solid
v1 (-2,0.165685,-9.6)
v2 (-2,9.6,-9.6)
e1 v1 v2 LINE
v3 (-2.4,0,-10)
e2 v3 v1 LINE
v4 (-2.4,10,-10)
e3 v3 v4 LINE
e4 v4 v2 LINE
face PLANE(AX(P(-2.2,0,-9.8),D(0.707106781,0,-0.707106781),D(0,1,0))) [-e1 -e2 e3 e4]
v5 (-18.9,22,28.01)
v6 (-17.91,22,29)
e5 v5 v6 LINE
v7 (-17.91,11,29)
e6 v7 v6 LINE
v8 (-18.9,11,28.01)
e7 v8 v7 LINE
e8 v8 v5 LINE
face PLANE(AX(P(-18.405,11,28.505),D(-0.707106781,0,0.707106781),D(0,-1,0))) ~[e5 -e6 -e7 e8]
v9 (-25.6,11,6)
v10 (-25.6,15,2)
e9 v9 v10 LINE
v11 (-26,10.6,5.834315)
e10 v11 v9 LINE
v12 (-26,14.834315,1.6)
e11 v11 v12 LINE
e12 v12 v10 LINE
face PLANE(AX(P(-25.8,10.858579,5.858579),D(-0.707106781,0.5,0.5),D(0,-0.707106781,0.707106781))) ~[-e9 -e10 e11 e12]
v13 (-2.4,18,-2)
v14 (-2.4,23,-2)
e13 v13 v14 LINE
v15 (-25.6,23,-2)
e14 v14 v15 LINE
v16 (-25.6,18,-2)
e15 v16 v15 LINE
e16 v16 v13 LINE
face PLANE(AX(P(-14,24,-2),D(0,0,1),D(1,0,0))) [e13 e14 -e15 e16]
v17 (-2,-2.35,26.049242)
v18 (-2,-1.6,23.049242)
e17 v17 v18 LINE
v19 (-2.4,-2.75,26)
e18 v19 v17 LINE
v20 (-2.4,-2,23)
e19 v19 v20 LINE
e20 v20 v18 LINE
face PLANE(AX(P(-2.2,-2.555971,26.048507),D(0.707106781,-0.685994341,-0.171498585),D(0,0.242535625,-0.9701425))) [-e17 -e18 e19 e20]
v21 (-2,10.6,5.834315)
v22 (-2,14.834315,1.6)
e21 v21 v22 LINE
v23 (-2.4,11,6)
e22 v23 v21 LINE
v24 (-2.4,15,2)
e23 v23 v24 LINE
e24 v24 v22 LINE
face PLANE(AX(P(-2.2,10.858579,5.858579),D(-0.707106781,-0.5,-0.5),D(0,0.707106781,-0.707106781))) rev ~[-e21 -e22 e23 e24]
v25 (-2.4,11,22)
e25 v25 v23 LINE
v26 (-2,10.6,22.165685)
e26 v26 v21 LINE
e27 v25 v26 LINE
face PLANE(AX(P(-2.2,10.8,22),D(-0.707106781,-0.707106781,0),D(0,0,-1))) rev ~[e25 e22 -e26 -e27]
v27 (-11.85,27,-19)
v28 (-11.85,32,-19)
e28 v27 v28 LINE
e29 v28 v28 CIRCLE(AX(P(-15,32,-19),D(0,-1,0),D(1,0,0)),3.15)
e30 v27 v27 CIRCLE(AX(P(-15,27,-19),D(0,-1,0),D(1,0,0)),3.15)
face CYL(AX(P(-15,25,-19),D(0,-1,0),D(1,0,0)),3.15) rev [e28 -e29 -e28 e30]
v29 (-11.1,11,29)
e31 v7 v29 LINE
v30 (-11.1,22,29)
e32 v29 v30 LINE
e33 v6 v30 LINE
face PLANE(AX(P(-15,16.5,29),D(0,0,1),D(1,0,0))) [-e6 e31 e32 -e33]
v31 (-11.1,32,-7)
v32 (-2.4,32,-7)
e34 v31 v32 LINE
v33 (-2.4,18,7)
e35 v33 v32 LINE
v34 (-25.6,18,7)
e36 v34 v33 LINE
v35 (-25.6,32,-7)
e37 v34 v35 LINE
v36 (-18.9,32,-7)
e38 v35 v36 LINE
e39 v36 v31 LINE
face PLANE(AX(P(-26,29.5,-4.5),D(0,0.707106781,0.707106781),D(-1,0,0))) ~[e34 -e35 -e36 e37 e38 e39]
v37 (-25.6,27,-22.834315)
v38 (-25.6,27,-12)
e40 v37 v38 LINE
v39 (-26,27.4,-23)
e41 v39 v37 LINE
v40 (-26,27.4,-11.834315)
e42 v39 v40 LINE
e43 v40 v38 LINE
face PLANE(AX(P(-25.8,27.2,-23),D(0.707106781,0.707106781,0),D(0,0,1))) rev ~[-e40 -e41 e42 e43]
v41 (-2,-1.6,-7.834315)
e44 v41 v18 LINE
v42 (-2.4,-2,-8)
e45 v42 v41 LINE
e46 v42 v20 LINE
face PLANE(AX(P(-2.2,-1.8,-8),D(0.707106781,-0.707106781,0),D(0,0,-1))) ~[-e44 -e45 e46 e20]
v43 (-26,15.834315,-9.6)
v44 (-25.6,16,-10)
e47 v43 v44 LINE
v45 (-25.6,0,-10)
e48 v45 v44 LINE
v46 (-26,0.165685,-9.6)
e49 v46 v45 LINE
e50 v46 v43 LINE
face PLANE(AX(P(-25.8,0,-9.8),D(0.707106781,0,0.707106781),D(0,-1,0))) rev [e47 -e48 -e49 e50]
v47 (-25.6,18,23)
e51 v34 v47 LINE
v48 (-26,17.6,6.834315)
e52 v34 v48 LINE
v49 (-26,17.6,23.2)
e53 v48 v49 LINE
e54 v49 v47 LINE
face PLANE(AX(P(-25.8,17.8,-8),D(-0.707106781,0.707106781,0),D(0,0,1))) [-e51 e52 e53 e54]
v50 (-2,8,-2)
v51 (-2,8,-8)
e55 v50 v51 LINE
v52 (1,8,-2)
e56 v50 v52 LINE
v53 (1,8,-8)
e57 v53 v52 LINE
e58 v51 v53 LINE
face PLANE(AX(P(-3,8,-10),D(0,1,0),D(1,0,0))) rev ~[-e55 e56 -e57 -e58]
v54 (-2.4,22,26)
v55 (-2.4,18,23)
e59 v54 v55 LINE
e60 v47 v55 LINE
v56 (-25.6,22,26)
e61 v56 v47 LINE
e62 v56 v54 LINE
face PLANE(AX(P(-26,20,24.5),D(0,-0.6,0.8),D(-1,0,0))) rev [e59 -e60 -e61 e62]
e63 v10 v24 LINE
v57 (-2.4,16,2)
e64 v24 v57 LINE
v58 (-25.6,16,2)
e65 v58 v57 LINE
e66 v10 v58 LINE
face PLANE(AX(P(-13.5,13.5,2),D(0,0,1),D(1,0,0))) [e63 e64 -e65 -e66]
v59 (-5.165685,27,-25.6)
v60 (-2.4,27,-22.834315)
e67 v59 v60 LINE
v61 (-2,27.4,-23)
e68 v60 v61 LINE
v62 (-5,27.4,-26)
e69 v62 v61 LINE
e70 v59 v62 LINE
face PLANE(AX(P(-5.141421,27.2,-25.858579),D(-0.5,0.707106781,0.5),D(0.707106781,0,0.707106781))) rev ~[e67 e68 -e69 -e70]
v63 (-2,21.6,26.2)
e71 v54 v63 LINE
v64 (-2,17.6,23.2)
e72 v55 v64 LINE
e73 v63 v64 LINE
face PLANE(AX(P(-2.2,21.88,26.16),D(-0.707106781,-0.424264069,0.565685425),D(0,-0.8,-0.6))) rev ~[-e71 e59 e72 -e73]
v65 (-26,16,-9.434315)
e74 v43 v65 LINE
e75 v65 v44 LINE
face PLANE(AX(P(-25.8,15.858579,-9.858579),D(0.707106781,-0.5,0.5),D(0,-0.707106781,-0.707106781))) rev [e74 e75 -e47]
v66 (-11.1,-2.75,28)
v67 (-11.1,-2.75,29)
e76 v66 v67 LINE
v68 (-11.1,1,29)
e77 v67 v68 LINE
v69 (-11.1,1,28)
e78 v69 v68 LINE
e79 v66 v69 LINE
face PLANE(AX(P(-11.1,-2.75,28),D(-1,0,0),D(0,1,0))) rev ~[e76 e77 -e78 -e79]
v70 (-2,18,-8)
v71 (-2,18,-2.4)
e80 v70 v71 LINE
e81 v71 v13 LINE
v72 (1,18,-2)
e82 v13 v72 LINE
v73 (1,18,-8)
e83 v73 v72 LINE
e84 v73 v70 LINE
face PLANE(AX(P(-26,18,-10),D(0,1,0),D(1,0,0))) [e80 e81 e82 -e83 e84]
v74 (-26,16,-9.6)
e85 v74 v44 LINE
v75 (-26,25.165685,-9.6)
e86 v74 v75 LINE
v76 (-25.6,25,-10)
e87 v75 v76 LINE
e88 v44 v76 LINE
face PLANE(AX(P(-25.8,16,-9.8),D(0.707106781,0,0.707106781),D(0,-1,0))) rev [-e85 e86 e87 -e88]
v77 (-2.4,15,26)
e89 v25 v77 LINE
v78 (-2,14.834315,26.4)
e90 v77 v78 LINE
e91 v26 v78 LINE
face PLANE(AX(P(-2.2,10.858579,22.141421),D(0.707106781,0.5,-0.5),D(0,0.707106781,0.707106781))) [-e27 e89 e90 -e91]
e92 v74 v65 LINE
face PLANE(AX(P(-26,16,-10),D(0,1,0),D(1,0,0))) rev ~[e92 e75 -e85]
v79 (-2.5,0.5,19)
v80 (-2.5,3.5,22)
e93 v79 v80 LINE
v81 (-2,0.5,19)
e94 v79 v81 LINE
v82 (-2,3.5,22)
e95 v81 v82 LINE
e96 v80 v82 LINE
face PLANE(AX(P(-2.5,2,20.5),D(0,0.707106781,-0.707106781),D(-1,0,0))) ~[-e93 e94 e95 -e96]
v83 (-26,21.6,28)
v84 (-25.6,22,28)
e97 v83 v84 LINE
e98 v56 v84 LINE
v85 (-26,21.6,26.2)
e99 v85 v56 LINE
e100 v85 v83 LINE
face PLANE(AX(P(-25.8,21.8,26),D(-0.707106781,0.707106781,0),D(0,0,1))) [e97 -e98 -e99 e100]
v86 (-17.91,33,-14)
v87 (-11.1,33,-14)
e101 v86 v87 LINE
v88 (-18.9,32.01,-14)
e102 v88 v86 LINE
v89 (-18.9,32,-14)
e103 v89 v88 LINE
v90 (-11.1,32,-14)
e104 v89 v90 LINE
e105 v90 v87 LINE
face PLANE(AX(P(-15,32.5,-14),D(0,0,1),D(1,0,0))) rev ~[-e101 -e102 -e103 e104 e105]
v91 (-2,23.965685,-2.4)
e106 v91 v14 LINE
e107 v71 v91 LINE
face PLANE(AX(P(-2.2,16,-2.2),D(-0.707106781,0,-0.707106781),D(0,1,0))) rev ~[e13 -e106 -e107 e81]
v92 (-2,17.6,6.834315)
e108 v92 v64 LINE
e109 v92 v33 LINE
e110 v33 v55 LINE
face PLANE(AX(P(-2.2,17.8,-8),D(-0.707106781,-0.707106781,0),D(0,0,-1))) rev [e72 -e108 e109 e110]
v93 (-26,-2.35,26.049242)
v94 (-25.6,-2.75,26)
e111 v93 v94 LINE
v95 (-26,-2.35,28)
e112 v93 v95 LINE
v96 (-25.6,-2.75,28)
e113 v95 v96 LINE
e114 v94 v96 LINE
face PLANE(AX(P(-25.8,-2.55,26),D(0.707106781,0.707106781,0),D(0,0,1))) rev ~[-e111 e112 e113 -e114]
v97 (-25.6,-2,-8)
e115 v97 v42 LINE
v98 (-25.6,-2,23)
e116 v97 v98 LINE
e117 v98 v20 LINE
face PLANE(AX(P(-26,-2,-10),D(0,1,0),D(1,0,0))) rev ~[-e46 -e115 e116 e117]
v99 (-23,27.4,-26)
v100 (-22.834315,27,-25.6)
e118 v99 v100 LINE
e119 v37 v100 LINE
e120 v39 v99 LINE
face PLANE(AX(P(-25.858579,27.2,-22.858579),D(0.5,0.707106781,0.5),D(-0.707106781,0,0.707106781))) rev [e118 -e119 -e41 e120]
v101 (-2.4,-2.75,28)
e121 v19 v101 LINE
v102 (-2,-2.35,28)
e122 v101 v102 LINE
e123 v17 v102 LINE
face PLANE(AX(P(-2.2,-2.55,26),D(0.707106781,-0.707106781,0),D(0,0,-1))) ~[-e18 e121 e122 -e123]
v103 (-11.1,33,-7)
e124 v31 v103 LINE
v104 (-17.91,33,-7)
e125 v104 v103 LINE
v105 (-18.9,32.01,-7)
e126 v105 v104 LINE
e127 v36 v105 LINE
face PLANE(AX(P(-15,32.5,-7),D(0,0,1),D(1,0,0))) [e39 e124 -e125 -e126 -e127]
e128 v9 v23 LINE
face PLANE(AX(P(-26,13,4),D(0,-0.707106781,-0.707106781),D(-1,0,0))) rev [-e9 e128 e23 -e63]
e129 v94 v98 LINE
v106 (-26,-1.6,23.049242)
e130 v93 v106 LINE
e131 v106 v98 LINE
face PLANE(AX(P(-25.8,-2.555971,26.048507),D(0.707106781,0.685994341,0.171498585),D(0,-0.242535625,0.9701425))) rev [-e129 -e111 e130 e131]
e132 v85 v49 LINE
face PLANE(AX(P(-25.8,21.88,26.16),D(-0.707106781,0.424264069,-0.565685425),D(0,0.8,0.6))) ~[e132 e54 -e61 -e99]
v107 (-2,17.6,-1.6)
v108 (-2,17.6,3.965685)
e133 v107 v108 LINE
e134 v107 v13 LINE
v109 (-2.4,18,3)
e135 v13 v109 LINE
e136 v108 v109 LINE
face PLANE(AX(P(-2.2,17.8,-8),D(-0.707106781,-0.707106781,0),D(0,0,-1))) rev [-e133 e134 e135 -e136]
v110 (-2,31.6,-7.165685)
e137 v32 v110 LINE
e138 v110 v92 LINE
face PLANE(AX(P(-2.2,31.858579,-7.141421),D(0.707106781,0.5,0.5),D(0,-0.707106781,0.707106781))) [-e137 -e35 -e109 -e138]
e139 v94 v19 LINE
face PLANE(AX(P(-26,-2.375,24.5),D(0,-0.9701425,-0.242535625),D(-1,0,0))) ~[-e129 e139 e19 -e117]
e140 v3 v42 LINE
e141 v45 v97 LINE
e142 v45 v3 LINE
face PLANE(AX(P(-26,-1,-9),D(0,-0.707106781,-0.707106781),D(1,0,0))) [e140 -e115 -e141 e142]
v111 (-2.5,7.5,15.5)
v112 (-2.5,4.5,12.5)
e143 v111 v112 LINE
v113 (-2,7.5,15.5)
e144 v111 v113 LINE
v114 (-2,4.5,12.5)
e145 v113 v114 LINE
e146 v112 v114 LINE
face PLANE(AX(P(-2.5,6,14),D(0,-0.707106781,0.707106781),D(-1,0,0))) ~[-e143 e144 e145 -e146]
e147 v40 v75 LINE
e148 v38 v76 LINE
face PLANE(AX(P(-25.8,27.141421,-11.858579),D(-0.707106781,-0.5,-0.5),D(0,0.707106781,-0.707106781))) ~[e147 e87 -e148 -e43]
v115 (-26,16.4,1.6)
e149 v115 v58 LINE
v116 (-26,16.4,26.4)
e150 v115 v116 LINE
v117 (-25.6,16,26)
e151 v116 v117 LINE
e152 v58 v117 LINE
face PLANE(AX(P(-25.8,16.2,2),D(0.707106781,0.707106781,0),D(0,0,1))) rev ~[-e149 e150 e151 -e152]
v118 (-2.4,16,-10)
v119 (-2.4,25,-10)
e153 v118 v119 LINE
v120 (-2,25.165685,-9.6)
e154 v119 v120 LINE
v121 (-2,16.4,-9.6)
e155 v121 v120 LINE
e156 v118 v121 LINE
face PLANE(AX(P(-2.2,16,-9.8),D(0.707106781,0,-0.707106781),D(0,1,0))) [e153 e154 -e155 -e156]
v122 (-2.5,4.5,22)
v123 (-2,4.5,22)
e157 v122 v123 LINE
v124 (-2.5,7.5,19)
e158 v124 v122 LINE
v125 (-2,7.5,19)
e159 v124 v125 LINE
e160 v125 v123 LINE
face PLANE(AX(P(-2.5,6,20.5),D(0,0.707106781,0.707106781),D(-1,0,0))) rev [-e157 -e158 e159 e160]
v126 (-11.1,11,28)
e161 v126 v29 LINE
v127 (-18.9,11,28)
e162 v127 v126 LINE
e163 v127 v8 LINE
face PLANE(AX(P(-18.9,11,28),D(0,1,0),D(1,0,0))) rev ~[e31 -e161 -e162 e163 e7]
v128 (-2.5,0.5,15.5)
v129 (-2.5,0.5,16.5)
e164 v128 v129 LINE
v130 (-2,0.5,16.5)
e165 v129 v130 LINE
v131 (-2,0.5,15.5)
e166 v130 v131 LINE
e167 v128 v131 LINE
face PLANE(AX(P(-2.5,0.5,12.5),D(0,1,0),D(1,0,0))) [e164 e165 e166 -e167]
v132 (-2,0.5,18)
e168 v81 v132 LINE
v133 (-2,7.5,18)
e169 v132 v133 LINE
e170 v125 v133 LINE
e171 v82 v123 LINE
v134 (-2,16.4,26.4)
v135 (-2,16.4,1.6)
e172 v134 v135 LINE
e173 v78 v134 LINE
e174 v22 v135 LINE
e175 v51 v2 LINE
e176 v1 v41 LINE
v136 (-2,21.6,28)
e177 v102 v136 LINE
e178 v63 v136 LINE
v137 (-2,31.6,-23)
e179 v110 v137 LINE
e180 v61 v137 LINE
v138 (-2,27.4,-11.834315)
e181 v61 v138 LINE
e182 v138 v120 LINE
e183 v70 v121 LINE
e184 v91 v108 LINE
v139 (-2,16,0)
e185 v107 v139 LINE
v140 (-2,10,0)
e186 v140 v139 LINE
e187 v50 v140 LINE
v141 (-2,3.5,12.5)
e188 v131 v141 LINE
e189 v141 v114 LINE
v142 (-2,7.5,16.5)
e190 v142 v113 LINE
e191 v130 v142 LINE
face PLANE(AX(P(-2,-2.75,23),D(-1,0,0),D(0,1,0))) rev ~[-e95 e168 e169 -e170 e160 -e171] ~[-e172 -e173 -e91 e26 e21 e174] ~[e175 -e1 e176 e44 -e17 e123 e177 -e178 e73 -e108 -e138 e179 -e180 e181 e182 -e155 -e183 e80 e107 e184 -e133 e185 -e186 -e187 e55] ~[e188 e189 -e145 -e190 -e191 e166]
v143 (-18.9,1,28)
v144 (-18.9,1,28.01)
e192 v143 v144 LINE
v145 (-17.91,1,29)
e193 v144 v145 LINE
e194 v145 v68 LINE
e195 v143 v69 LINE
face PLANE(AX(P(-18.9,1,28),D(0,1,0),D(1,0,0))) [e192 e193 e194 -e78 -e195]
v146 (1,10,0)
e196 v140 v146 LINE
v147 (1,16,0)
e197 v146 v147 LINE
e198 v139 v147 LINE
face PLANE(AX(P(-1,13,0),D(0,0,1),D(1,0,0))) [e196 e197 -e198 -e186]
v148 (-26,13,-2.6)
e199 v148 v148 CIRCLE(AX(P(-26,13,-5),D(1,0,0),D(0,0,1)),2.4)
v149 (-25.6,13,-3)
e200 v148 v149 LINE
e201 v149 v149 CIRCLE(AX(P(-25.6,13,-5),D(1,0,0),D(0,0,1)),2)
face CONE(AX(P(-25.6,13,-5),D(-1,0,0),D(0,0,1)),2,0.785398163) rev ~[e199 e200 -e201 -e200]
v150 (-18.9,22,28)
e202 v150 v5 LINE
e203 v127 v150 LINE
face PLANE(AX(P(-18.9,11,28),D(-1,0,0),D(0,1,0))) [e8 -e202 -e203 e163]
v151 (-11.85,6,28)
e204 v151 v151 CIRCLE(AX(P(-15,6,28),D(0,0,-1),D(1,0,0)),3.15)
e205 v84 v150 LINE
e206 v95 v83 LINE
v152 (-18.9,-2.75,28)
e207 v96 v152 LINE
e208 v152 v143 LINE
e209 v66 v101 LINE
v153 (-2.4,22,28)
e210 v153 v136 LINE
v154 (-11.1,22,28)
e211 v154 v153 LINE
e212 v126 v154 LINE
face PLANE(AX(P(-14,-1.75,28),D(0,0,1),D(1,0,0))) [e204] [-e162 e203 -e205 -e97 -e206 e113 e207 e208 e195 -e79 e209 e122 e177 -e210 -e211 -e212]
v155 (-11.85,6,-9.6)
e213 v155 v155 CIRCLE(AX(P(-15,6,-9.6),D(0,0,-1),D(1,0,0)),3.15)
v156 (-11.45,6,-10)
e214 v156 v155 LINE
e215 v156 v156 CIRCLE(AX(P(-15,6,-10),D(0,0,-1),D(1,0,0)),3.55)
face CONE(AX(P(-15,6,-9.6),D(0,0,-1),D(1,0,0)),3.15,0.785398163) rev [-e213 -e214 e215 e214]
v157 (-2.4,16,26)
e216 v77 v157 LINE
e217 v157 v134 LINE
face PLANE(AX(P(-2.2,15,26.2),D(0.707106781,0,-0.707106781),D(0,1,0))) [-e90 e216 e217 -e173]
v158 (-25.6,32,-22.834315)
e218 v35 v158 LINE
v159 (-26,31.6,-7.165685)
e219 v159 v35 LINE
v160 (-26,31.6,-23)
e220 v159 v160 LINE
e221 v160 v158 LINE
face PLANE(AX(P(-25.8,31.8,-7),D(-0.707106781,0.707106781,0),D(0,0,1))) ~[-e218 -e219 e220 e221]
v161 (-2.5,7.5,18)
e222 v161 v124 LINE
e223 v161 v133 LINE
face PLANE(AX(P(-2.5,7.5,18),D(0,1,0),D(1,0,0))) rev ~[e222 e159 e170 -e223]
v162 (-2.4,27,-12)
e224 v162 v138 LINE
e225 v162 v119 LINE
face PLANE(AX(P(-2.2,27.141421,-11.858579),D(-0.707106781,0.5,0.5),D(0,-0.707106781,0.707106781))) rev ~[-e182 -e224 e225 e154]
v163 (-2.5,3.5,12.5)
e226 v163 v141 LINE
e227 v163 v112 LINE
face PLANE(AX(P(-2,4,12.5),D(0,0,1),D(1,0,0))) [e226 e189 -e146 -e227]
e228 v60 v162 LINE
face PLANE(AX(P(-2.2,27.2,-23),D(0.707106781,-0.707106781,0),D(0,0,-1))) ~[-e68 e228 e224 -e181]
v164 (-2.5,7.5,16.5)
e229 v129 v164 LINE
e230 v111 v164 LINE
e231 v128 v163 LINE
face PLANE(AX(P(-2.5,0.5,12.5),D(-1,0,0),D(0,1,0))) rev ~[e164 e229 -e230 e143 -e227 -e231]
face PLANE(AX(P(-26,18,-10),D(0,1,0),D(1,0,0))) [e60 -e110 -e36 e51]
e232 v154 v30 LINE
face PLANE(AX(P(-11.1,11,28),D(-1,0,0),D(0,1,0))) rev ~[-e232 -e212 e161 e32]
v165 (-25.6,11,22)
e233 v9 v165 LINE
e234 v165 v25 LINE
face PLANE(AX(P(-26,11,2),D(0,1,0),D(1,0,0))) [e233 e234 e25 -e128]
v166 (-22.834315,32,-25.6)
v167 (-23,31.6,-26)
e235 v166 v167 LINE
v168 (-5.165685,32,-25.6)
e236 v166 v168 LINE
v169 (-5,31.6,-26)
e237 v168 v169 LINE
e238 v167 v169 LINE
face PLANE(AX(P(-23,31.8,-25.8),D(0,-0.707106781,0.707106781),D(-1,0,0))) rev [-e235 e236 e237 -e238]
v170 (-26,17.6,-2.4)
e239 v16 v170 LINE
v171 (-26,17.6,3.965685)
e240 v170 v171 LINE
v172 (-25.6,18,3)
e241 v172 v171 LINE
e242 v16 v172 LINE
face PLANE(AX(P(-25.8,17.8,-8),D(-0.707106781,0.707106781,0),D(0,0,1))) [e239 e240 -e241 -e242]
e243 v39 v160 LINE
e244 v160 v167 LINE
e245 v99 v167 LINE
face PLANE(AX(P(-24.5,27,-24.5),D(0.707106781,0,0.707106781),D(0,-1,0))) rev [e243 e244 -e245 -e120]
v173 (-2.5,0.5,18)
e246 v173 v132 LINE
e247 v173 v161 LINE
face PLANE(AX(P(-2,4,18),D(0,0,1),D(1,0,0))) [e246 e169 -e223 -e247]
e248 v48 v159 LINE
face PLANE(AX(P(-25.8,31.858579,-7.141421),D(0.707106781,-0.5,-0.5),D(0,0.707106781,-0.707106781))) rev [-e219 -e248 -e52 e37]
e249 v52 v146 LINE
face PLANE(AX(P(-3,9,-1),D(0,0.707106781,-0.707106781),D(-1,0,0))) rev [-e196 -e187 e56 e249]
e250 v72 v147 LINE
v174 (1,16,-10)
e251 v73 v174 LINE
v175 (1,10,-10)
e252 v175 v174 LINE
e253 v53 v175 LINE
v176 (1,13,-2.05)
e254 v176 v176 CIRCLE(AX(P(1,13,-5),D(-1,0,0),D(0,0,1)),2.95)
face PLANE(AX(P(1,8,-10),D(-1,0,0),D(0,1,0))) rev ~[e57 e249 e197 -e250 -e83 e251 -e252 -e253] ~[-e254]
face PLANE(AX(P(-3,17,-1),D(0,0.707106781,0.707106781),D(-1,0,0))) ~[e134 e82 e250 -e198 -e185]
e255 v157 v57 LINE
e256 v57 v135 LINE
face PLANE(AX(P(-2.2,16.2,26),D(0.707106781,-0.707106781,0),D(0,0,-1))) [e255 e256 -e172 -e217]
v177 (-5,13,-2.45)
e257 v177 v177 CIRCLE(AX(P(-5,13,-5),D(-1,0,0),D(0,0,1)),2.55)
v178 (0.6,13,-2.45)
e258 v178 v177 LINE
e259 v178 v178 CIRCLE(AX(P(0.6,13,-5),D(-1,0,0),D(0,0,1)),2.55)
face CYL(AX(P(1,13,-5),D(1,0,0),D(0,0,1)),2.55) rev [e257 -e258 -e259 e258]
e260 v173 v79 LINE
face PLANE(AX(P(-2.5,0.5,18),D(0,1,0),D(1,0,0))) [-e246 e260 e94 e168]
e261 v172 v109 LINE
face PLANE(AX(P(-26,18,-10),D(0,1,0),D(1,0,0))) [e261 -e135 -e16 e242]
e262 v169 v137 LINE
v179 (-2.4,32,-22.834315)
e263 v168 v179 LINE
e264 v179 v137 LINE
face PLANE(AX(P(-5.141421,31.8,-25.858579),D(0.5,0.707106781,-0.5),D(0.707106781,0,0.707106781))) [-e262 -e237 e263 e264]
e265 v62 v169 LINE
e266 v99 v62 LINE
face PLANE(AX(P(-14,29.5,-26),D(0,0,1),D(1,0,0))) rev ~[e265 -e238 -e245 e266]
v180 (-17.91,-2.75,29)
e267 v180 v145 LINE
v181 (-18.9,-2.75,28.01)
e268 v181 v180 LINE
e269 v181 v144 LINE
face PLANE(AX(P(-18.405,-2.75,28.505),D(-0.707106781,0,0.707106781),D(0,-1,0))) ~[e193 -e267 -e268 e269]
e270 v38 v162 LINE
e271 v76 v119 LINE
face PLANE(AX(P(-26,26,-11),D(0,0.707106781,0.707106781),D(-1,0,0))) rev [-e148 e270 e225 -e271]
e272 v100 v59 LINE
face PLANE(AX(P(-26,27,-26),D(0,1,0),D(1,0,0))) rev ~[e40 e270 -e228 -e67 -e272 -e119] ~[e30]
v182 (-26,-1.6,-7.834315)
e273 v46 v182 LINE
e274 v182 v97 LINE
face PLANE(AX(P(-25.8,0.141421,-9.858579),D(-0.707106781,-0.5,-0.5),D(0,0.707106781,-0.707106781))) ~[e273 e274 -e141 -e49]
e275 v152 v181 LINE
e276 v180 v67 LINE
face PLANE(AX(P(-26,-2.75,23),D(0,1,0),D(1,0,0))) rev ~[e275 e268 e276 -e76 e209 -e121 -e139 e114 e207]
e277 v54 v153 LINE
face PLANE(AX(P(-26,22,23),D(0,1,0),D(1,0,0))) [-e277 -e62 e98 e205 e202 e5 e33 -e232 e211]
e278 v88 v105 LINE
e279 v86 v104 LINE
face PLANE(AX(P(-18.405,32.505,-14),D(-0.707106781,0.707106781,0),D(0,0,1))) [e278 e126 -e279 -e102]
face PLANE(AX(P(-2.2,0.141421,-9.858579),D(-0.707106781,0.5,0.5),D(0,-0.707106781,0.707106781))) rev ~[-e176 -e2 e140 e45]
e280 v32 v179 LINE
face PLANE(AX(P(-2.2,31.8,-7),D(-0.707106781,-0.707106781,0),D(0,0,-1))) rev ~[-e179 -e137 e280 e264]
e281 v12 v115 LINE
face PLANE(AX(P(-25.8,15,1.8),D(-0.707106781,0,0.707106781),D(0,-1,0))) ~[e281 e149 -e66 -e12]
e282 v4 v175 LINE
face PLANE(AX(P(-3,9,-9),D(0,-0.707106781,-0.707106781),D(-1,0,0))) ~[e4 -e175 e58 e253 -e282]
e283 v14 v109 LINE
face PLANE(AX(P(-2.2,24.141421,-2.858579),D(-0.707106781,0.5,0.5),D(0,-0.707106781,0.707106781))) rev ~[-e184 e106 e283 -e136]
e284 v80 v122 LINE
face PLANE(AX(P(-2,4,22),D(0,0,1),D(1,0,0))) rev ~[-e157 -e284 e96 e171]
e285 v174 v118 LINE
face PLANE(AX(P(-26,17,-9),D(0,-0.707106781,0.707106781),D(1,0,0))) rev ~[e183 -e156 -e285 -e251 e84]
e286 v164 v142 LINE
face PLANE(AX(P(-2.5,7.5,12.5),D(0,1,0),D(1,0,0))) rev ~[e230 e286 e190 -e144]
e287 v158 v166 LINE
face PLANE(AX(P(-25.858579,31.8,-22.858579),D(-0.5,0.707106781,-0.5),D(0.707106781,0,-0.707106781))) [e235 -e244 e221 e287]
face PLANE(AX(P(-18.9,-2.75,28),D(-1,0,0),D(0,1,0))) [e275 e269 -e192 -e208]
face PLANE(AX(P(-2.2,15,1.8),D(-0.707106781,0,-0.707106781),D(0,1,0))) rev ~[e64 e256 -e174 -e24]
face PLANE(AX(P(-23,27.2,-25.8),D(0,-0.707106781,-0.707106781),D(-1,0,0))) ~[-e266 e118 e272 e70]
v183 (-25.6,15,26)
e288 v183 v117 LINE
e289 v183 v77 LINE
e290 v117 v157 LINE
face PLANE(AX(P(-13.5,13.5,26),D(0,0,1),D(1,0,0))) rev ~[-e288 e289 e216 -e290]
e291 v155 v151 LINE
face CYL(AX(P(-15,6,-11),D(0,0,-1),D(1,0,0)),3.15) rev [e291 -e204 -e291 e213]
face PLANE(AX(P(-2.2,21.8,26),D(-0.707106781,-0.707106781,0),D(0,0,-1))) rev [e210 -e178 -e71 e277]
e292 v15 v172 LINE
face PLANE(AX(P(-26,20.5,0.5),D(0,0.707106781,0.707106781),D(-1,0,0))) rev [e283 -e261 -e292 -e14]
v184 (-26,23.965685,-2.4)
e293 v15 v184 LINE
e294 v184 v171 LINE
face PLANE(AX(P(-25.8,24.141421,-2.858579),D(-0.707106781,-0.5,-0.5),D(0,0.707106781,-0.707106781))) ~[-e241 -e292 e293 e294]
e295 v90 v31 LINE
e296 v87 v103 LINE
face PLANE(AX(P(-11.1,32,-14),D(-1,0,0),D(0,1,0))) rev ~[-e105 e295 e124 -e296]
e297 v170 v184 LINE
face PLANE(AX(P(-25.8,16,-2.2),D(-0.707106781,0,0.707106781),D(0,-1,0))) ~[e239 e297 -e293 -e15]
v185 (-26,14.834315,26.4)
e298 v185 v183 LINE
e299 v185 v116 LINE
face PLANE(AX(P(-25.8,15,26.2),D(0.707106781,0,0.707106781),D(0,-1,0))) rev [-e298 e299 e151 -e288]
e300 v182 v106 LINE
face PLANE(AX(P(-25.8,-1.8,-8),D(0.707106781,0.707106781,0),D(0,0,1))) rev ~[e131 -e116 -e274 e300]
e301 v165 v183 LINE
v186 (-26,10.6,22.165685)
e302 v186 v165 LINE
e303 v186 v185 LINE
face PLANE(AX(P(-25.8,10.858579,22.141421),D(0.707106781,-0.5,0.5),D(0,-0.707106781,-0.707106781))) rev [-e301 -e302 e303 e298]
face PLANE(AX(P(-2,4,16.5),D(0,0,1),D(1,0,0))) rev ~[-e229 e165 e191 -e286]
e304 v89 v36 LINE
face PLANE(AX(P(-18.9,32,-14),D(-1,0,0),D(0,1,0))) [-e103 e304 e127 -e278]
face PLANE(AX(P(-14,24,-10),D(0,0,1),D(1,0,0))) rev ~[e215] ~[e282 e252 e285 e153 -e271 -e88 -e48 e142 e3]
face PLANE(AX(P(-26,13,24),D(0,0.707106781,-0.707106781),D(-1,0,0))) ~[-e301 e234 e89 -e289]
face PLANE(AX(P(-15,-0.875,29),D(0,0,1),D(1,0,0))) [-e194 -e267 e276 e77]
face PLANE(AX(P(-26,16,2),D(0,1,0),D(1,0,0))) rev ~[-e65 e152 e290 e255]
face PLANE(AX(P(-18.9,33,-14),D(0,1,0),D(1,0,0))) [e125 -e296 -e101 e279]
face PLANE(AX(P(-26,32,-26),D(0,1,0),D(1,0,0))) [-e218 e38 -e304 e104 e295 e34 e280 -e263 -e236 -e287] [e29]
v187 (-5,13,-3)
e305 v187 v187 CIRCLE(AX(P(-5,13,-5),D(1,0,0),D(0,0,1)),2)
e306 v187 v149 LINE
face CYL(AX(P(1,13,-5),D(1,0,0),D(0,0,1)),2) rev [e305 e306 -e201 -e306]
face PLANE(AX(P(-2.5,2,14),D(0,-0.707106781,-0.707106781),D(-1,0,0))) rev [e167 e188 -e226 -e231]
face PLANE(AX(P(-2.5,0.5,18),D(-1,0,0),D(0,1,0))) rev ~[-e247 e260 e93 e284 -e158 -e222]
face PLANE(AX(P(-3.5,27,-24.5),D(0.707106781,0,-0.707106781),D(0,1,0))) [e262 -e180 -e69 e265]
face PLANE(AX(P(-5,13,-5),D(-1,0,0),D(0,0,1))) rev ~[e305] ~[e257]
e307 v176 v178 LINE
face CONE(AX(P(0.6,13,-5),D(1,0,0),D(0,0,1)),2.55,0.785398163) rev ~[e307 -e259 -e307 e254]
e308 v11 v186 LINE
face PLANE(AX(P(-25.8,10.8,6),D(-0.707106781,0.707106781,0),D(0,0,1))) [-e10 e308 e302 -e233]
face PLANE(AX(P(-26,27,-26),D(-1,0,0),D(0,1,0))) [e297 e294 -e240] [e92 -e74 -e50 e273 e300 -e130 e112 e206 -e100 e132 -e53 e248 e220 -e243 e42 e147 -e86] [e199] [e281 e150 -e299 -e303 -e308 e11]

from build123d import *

# Parameters (mm, degrees)
CYLINDER018_R                = 3.15
CYLINDER018_DEPTH            = 10
BOX035_W                     = 24
BOX035_H                     = 5
BOX035_DEPTH                 = 16
BOX034_W                     = 24
BOX034_H                     = 16
BOX034_DEPTH                 = 8
CHAMFER003068012002033_SIZE  = 2
CHAMFER003068012002034_SIZE  = 5
CHAMFER003068012002035_SIZE  = 3
CHAMFER003068012002036_SIZE  = 0.4
CYLINDER016_R                = 3.15
CYLINDER016_DEPTH            = 43
CYLINDER015_R                = 2
CYLINDER015_DEPTH            = 39
CYLINDER017_R                = 2.55
CYLINDER017_DEPTH            = 6
BOX030_W                     = 1
BOX030_H                     = 7
BOX030_DEPTH                 = 4
BOX031_W                     = 1
BOX031_H                     = 7
BOX031_DEPTH                 = 4
CHAMFER003068012002027_SIZE  = 3
BOX025_W                     = 4
BOX025_H                     = 10
BOX025_DEPTH                 = 10
CHAMFER003068012002021_SIZE  = 2
BOX026_W                     = 25
BOX026_H                     = 5
BOX026_DEPTH                 = 24
CHAMFER003068012002018_SIZE  = 4
BOX024_W                     = 24
BOX024_H                     = 20
BOX024_DEPTH                 = 38
CHAMFER003068012002019_SIZE  = 2
CHAMFER003068012002020_SIZE  = 2
BOX032_W                     = 24
BOX032_H                     = 2
BOX032_DEPTH                 = 5
CHAMFER003068012002028_SIZE2 = 0.75
CHAMFER003068012002028_SIZE  = 3
BOX033_W                     = 24
BOX033_H                     = 5
BOX033_DEPTH                 = 5
CHAMFER003068012002029_SIZE2 = 4
CHAMFER003068012002029_SIZE  = 3
BOX027_W                     = 7.8
BOX027_H                     = 11
BOX027_DEPTH                 = 1
BOX028_W                     = 7.8
BOX028_H                     = 3.75
BOX028_DEPTH                 = 1
CHAMFER003068012002030_SIZE  = 0.99
CHAMFER003068012002031_SIZE  = 0.4
CHAMFER003068012002032_SIZE  = 0.4
BOX036_W                     = 7.8
BOX036_H                     = 1
BOX036_DEPTH                 = 7
CHAMFER003068012002037_SIZE  = 0.99
BOX037_W                     = 24
BOX037_H                     = 10
BOX037_DEPTH                 = 10
CHAMFER003068012002039_SIZE  = 9
BOX038_W                     = 24
BOX038_H                     = 10
BOX038_DEPTH                 = 10
CHAMFER003068012002038_SIZE  = 9
CHAMFER003068012002040_SIZE  = 0.4


with BuildPart() as cylinder018:
    # Cylinder018 → Cylinder018 (new body)
    with BuildSketch(Plane(origin=(-15, 25, -19), x_dir=(1, 0, 0), z_dir=(0, 1, 0))):
        Circle(CYLINDER018_R)
    extrude(amount=CYLINDER018_DEPTH)


with BuildPart() as cube035:
    # Box035 → Box035 (new body)
    with BuildSketch(Plane(origin=(-26, 27, -26), x_dir=(1, 0, 0), z_dir=(0, 0, 1))):
        with Locations((12, 2.5)):
            Rectangle(BOX035_W, BOX035_H)
    extrude(amount=BOX035_DEPTH)


with BuildPart() as chamfer003068012002036:
    # Box034 → Box034 (new body)
    with BuildSketch(Plane(origin=(-26, 16, -10), x_dir=(1, 0, 0), z_dir=(0, 0, 1))):
        with Locations((12, 8)):
            Rectangle(BOX034_W, BOX034_H)
    extrude(amount=BOX034_DEPTH)

    # Fusion001002012017: union Cube035
    add(cube035.part)

    # Cut001019: cut Cylinder018
    add(cylinder018.part, mode=Mode.SUBTRACT)

    # Chamfer003068012002033
    chamfer003068012002033_edges = [chamfer003068012002036.edges().sort_by_distance(p)[0] for p in [
        (-14, 27, -10),
    ]]
    chamfer(chamfer003068012002033_edges, length=CHAMFER003068012002033_SIZE)

    # Chamfer003068012002034
    chamfer003068012002034_edges = [chamfer003068012002036.edges().sort_by_distance(p)[0] for p in [
        (-14, 32, -2),
    ]]
    chamfer(chamfer003068012002034_edges, length=CHAMFER003068012002034_SIZE)

    # Chamfer003068012002035
    chamfer003068012002035_edges = [chamfer003068012002036.edges().sort_by_distance(p)[0] for p in [
        (-26, 29.5, -26),
        (-2, 29.5, -26),
    ]]
    chamfer(chamfer003068012002035_edges, length=CHAMFER003068012002035_SIZE)

    # Chamfer003068012002036
    chamfer003068012002036_edges = [chamfer003068012002036.edges().sort_by_distance(p)[0] for p in [
        (-26, 32, -15),
        (-26, 27, -17.5),
        (-26, 26, -11),
        (-26, 20.5, -10),
        (-26, 21.5, -2),
        (-26, 29.5, -4.5),
        (-2, 32, -15),
        (-3.5, 32, -24.5),
        (-14, 32, -26),
        (-24.5, 32, -24.5),
        (-24.5, 27, -24.5),
        (-2, 29.5, -4.5),
        (-2, 27, -17.5),
        (-3.5, 27, -24.5),
        (-14, 27, -26),
        (-2, 21.5, -2),
        (-2, 26, -11),
        (-2, 20.5, -10),
    ]]
    chamfer(chamfer003068012002036_edges, length=CHAMFER003068012002036_SIZE)


with BuildPart() as cylinder016:
    # Cylinder016 → Cylinder016 (new body)
    with BuildSketch(Plane(origin=(-15, 6, -11), x_dir=(1, 0, 0), z_dir=(0, 0, 1))):
        Circle(CYLINDER016_R)
    extrude(amount=CYLINDER016_DEPTH)


with BuildPart() as cylinder015:
    # Cylinder015 → Cylinder015 (new body)
    with BuildSketch(Plane(origin=(1, 13, -5), x_dir=(0, 0, 1), z_dir=(-1, 0, 0))):
        Circle(CYLINDER015_R)
    extrude(amount=CYLINDER015_DEPTH)


with BuildPart() as fusion001002012010:
    # Cylinder017 → Cylinder017 (new body)
    with BuildSketch(Plane(origin=(1, 13, -5), x_dir=(0, 0, 1), z_dir=(-1, 0, 0))):
        Circle(CYLINDER017_R)
    extrude(amount=CYLINDER017_DEPTH)

    # Fusion001002012010: union Cylinder015
    add(cylinder015.part)


with BuildPart() as cube030:
    # Box030 → Box030 (new body)
    with BuildSketch(Plane(origin=(-2.5, 0.5, 16.5), x_dir=(1, 0, 0), z_dir=(0, 0, 1))):
        with Locations((0.5, 3.5)):
            Rectangle(BOX030_W, BOX030_H)
    extrude(amount=BOX030_DEPTH)


with BuildPart() as chamfer003068012002027:
    # Box031 → Box031 (new body)
    with BuildSketch(Plane(origin=(-2.5, 0.5, 11), x_dir=(1, 0, 0), z_dir=(0, 0, 1))):
        with Locations((0.5, 3.5)):
            Rectangle(BOX031_W, BOX031_H)
    extrude(amount=BOX031_DEPTH)

    # Fusion001002012012: union Cube030
    add(cube030.part)

    # Chamfer003068012002027
    chamfer003068012002027_edges = [chamfer003068012002027.edges().sort_by_distance(p)[0] for p in [
        (-2, 0.5, 11),
        (-2, 7.5, 11),
        (-2, 0.5, 20.5),
        (-2, 7.5, 20.5),
    ]]
    chamfer(chamfer003068012002027_edges, length=CHAMFER003068012002027_SIZE)


with BuildPart() as chamfer003068012002027_1:
    # Chamfer003068012002027 placement: moved
    add(chamfer003068012002027.part.moved(Location((0, 0, 1.5))))


with BuildPart() as chamfer003068012002021:
    # Box025 → Box025 (new body)
    with BuildSketch(Plane(origin=(-3, 8, -10), x_dir=(1, 0, 0), z_dir=(0, 0, 1))):
        with Locations((2, 5)):
            Rectangle(BOX025_W, BOX025_H)
    extrude(amount=BOX025_DEPTH)

    # Chamfer003068012002021
    chamfer003068012002021_edges = [chamfer003068012002021.edges().sort_by_distance(p)[0] for p in [
        (-1, 8, -10),
        (-1, 8, 0),
        (-1, 18, -10),
        (-1, 18, 0),
    ]]
    chamfer(chamfer003068012002021_edges, length=CHAMFER003068012002021_SIZE)


with BuildPart() as chamfer003068012002018:
    # Box026 → Box026 (new body)
    with BuildSketch(Plane(origin=(-26, 11, 2), x_dir=(1, 0, 0), z_dir=(0, 0, 1))):
        with Locations((12.5, 2.5)):
            Rectangle(BOX026_W, BOX026_H)
    extrude(amount=BOX026_DEPTH)

    # Chamfer003068012002018
    chamfer003068012002018_edges = [chamfer003068012002018.edges().sort_by_distance(p)[0] for p in [
        (-13.5, 11, 2),
        (-13.5, 11, 26),
    ]]
    chamfer(chamfer003068012002018_edges, length=CHAMFER003068012002018_SIZE)


with BuildPart() as chamfer003068012002020:
    # Box024 → Box024 (new body)
    with BuildSketch(Plane(origin=(-26, -2, -10), x_dir=(1, 0, 0), z_dir=(0, 0, 1))):
        with Locations((12, 10)):
            Rectangle(BOX024_W, BOX024_H)
    extrude(amount=BOX024_DEPTH)

    # Cut001015: cut Chamfer003068012002018
    add(chamfer003068012002018.part, mode=Mode.SUBTRACT)

    # Chamfer003068012002019
    chamfer003068012002019_edges = [chamfer003068012002020.edges().sort_by_distance(p)[0] for p in [
        (-14, 18, -10),
    ]]
    chamfer(chamfer003068012002019_edges, length=CHAMFER003068012002019_SIZE)

    # Chamfer003068012002020
    chamfer003068012002020_edges = [chamfer003068012002020.edges().sort_by_distance(p)[0] for p in [
        (-14, -2, -10),
    ]]
    chamfer(chamfer003068012002020_edges, length=CHAMFER003068012002020_SIZE)


with BuildPart() as chamfer003068012002028:
    # Box032 → Box032 (new body)
    with BuildSketch(Plane(origin=(-26, -2.75, 23), x_dir=(1, 0, 0), z_dir=(0, 0, 1))):
        with Locations((12, 1)):
            Rectangle(BOX032_W, BOX032_H)
    extrude(amount=BOX032_DEPTH)

    # Chamfer003068012002028
    chamfer003068012002028_edges = [chamfer003068012002028.edges().sort_by_distance(p)[0] for p in [
        (-14, -2.75, 23),
    ]]
    chamfer003068012002028_side = chamfer003068012002028.faces().sort_by_distance((-14, -2.75, 25.5))[0]
    chamfer(chamfer003068012002028_edges, length=CHAMFER003068012002028_SIZE, length2=CHAMFER003068012002028_SIZE2, reference=chamfer003068012002028_side)


with BuildPart() as fusion001002012013:
    # Box033 → Box033 (new body)
    with BuildSketch(Plane(origin=(-26, 17, 23), x_dir=(1, 0, 0), z_dir=(0, 0, 1))):
        with Locations((12, 2.5)):
            Rectangle(BOX033_W, BOX033_H)
    extrude(amount=BOX033_DEPTH)

    # Chamfer003068012002029
    chamfer003068012002029_edges = [fusion001002012013.edges().sort_by_distance(p)[0] for p in [
        (-14, 22, 23),
    ]]
    chamfer003068012002029_side = fusion001002012013.faces().sort_by_distance((-14, 22, 25.5))[0]
    chamfer(chamfer003068012002029_edges, length=CHAMFER003068012002029_SIZE, length2=CHAMFER003068012002029_SIZE2, reference=chamfer003068012002029_side)

    # Fusion001002012013: union Chamfer003068012002020, Chamfer003068012002028
    add(chamfer003068012002020.part)
    add(chamfer003068012002028.part)


with BuildPart() as cube027:
    # Box027 → Box027 (new body)
    with BuildSketch(Plane(origin=(-18.9, 11, 28), x_dir=(1, 0, 0), z_dir=(0, 0, 1))):
        with Locations((3.9, 5.5)):
            Rectangle(BOX027_W, BOX027_H)
    extrude(amount=BOX027_DEPTH)


with BuildPart() as fusion001002012018:
    # Box028 → Box028 (new body)
    with BuildSketch(Plane(origin=(-18.9, -2.75, 28), x_dir=(1, 0, 0), z_dir=(0, 0, 1))):
        with Locations((3.9, 1.875)):
            Rectangle(BOX028_W, BOX028_H)
    extrude(amount=BOX028_DEPTH)

    # Fusion001002012014: union Cube027
    add(cube027.part)

    # Chamfer003068012002030
    chamfer003068012002030_edges = [fusion001002012018.edges().sort_by_distance(p)[0] for p in [
        (-18.9, -0.875, 29),
        (-18.9, 16.5, 29),
    ]]
    chamfer(chamfer003068012002030_edges, length=CHAMFER003068012002030_SIZE)

    # Fusion001002012015: union Fusion001002012013
    add(fusion001002012013.part)

    # Chamfer003068012002031
    chamfer003068012002031_edges = [fusion001002012018.edges().sort_by_distance(p)[0] for p in [
        (-26, -2.75, 27),
        (-2, -2.75, 27),
        (-26, -2.375, 24.5),
        (-2, -2.375, 24.5),
        (-2, -2, 7.5),
        (-26, -2, 7.5),
        (-26, -1, -9),
        (-2, -1, -9),
        (-26, 8, -10),
        (-2, 8, -10),
        (-2, 18, 7.5),
        (-26, 18, 7.5),
        (-26, 17, -9),
        (-2, 17, -9),
        (-26, 20, 24.5),
        (-2, 20, 24.5),
        (-26, 22, 27),
        (-26, 13, 4),
        (-26, 15.5, 2),
        (-26, 16, 14),
        (-26, 15.5, 26),
        (-26, 13, 24),
        (-26, 11, 14),
        (-2, 13, 4),
        (-2, 11, 14),
        (-2, 15.5, 2),
        (-2, 13, 24),
        (-2, 16, 14),
        (-2, 15.5, 26),
        (-2, 22, 27),
    ]]
    chamfer(chamfer003068012002031_edges, length=CHAMFER003068012002031_SIZE)

    # Fusion001002012016: union Chamfer003068012002021
    add(chamfer003068012002021.part)

    # Cut001016: cut Chamfer003068012002027
    add(chamfer003068012002027_1.part, mode=Mode.SUBTRACT)

    # Cut001017: cut Fusion001002012010
    add(fusion001002012010.part, mode=Mode.SUBTRACT)

    # Cut001018: cut Cylinder016
    add(cylinder016.part, mode=Mode.SUBTRACT)

    # Chamfer003068012002032
    chamfer003068012002032_edges = [fusion001002012018.edges().sort_by_distance(p)[0] for p in [
        (-26, 13, -7),
        (-18.15, 6, -10),
        (1, 13, -7.55),
    ]]
    chamfer(chamfer003068012002032_edges, length=CHAMFER003068012002032_SIZE)

    # Fusion001002012018: union Chamfer003068012002036
    add(chamfer003068012002036.part)


with BuildPart() as fusion001002012019:
    # Box036 → Box036 (new body)
    with BuildSketch(Plane(origin=(-18.9, 32, -14), x_dir=(1, 0, 0), z_dir=(0, 0, 1))):
        with Locations((3.9, 0.5)):
            Rectangle(BOX036_W, BOX036_H)
    extrude(amount=BOX036_DEPTH)

    # Chamfer003068012002037
    chamfer003068012002037_edges = [fusion001002012019.edges().sort_by_distance(p)[0] for p in [
        (-18.9, 33, -10.5),
    ]]
    chamfer(chamfer003068012002037_edges, length=CHAMFER003068012002037_SIZE)

    # Fusion001002012019: union Fusion001002012018
    add(fusion001002012018.part)


with BuildPart() as chamfer003068012002039:
    # Box037 → Box037 (new body)
    with BuildSketch(Plane(origin=(-26, 13, -7), x_dir=(1, 0, 0), z_dir=(0, 0, 1))):
        with Locations((12, 5)):
            Rectangle(BOX037_W, BOX037_H)
    extrude(amount=BOX037_DEPTH)

    # Chamfer003068012002039
    chamfer003068012002039_edges = [chamfer003068012002039.edges().sort_by_distance(p)[0] for p in [
        (-14, 23, 3),
    ]]
    chamfer(chamfer003068012002039_edges, length=CHAMFER003068012002039_SIZE)


with BuildPart() as chamfer003068012002039_1:
    # Chamfer003068012002039 placement: moved
    add(chamfer003068012002039.part.moved(Location((0, 2, 2))))


with BuildPart() as fusion001002012020:
    # Box038 → Box038 (new body)
    with BuildSketch(Plane(origin=(-26, 17, -3), x_dir=(1, 0, 0), z_dir=(0, 0, 1))):
        with Locations((12, 5)):
            Rectangle(BOX038_W, BOX038_H)
    extrude(amount=BOX038_DEPTH)

    # Chamfer003068012002038
    chamfer003068012002038_edges = [fusion001002012020.edges().sort_by_distance(p)[0] for p in [
        (-14, 27, 7),
    ]]
    chamfer(chamfer003068012002038_edges, length=CHAMFER003068012002038_SIZE)

    # Cut001022: cut Chamfer003068012002039
    add(chamfer003068012002039_1.part, mode=Mode.SUBTRACT)

    # Chamfer003068012002040
    chamfer003068012002040_edges = [fusion001002012020.edges().sort_by_distance(p)[0] for p in [
        (-26, 22.5, 2.5),
        (-26, 25.5, -3),
        (-26, 20.5, 0.5),
        (-26, 17, 5.5),
        (-2, 22.5, 2.5),
        (-2, 25.5, -3),
        (-2, 20.5, 0.5),
        (-2, 17, 5.5),
    ]]
    chamfer(chamfer003068012002040_edges, length=CHAMFER003068012002040_SIZE)

    # Fusion001002012020: union Fusion001002012019
    add(fusion001002012019.part)


solid = fusion001002012020.part
